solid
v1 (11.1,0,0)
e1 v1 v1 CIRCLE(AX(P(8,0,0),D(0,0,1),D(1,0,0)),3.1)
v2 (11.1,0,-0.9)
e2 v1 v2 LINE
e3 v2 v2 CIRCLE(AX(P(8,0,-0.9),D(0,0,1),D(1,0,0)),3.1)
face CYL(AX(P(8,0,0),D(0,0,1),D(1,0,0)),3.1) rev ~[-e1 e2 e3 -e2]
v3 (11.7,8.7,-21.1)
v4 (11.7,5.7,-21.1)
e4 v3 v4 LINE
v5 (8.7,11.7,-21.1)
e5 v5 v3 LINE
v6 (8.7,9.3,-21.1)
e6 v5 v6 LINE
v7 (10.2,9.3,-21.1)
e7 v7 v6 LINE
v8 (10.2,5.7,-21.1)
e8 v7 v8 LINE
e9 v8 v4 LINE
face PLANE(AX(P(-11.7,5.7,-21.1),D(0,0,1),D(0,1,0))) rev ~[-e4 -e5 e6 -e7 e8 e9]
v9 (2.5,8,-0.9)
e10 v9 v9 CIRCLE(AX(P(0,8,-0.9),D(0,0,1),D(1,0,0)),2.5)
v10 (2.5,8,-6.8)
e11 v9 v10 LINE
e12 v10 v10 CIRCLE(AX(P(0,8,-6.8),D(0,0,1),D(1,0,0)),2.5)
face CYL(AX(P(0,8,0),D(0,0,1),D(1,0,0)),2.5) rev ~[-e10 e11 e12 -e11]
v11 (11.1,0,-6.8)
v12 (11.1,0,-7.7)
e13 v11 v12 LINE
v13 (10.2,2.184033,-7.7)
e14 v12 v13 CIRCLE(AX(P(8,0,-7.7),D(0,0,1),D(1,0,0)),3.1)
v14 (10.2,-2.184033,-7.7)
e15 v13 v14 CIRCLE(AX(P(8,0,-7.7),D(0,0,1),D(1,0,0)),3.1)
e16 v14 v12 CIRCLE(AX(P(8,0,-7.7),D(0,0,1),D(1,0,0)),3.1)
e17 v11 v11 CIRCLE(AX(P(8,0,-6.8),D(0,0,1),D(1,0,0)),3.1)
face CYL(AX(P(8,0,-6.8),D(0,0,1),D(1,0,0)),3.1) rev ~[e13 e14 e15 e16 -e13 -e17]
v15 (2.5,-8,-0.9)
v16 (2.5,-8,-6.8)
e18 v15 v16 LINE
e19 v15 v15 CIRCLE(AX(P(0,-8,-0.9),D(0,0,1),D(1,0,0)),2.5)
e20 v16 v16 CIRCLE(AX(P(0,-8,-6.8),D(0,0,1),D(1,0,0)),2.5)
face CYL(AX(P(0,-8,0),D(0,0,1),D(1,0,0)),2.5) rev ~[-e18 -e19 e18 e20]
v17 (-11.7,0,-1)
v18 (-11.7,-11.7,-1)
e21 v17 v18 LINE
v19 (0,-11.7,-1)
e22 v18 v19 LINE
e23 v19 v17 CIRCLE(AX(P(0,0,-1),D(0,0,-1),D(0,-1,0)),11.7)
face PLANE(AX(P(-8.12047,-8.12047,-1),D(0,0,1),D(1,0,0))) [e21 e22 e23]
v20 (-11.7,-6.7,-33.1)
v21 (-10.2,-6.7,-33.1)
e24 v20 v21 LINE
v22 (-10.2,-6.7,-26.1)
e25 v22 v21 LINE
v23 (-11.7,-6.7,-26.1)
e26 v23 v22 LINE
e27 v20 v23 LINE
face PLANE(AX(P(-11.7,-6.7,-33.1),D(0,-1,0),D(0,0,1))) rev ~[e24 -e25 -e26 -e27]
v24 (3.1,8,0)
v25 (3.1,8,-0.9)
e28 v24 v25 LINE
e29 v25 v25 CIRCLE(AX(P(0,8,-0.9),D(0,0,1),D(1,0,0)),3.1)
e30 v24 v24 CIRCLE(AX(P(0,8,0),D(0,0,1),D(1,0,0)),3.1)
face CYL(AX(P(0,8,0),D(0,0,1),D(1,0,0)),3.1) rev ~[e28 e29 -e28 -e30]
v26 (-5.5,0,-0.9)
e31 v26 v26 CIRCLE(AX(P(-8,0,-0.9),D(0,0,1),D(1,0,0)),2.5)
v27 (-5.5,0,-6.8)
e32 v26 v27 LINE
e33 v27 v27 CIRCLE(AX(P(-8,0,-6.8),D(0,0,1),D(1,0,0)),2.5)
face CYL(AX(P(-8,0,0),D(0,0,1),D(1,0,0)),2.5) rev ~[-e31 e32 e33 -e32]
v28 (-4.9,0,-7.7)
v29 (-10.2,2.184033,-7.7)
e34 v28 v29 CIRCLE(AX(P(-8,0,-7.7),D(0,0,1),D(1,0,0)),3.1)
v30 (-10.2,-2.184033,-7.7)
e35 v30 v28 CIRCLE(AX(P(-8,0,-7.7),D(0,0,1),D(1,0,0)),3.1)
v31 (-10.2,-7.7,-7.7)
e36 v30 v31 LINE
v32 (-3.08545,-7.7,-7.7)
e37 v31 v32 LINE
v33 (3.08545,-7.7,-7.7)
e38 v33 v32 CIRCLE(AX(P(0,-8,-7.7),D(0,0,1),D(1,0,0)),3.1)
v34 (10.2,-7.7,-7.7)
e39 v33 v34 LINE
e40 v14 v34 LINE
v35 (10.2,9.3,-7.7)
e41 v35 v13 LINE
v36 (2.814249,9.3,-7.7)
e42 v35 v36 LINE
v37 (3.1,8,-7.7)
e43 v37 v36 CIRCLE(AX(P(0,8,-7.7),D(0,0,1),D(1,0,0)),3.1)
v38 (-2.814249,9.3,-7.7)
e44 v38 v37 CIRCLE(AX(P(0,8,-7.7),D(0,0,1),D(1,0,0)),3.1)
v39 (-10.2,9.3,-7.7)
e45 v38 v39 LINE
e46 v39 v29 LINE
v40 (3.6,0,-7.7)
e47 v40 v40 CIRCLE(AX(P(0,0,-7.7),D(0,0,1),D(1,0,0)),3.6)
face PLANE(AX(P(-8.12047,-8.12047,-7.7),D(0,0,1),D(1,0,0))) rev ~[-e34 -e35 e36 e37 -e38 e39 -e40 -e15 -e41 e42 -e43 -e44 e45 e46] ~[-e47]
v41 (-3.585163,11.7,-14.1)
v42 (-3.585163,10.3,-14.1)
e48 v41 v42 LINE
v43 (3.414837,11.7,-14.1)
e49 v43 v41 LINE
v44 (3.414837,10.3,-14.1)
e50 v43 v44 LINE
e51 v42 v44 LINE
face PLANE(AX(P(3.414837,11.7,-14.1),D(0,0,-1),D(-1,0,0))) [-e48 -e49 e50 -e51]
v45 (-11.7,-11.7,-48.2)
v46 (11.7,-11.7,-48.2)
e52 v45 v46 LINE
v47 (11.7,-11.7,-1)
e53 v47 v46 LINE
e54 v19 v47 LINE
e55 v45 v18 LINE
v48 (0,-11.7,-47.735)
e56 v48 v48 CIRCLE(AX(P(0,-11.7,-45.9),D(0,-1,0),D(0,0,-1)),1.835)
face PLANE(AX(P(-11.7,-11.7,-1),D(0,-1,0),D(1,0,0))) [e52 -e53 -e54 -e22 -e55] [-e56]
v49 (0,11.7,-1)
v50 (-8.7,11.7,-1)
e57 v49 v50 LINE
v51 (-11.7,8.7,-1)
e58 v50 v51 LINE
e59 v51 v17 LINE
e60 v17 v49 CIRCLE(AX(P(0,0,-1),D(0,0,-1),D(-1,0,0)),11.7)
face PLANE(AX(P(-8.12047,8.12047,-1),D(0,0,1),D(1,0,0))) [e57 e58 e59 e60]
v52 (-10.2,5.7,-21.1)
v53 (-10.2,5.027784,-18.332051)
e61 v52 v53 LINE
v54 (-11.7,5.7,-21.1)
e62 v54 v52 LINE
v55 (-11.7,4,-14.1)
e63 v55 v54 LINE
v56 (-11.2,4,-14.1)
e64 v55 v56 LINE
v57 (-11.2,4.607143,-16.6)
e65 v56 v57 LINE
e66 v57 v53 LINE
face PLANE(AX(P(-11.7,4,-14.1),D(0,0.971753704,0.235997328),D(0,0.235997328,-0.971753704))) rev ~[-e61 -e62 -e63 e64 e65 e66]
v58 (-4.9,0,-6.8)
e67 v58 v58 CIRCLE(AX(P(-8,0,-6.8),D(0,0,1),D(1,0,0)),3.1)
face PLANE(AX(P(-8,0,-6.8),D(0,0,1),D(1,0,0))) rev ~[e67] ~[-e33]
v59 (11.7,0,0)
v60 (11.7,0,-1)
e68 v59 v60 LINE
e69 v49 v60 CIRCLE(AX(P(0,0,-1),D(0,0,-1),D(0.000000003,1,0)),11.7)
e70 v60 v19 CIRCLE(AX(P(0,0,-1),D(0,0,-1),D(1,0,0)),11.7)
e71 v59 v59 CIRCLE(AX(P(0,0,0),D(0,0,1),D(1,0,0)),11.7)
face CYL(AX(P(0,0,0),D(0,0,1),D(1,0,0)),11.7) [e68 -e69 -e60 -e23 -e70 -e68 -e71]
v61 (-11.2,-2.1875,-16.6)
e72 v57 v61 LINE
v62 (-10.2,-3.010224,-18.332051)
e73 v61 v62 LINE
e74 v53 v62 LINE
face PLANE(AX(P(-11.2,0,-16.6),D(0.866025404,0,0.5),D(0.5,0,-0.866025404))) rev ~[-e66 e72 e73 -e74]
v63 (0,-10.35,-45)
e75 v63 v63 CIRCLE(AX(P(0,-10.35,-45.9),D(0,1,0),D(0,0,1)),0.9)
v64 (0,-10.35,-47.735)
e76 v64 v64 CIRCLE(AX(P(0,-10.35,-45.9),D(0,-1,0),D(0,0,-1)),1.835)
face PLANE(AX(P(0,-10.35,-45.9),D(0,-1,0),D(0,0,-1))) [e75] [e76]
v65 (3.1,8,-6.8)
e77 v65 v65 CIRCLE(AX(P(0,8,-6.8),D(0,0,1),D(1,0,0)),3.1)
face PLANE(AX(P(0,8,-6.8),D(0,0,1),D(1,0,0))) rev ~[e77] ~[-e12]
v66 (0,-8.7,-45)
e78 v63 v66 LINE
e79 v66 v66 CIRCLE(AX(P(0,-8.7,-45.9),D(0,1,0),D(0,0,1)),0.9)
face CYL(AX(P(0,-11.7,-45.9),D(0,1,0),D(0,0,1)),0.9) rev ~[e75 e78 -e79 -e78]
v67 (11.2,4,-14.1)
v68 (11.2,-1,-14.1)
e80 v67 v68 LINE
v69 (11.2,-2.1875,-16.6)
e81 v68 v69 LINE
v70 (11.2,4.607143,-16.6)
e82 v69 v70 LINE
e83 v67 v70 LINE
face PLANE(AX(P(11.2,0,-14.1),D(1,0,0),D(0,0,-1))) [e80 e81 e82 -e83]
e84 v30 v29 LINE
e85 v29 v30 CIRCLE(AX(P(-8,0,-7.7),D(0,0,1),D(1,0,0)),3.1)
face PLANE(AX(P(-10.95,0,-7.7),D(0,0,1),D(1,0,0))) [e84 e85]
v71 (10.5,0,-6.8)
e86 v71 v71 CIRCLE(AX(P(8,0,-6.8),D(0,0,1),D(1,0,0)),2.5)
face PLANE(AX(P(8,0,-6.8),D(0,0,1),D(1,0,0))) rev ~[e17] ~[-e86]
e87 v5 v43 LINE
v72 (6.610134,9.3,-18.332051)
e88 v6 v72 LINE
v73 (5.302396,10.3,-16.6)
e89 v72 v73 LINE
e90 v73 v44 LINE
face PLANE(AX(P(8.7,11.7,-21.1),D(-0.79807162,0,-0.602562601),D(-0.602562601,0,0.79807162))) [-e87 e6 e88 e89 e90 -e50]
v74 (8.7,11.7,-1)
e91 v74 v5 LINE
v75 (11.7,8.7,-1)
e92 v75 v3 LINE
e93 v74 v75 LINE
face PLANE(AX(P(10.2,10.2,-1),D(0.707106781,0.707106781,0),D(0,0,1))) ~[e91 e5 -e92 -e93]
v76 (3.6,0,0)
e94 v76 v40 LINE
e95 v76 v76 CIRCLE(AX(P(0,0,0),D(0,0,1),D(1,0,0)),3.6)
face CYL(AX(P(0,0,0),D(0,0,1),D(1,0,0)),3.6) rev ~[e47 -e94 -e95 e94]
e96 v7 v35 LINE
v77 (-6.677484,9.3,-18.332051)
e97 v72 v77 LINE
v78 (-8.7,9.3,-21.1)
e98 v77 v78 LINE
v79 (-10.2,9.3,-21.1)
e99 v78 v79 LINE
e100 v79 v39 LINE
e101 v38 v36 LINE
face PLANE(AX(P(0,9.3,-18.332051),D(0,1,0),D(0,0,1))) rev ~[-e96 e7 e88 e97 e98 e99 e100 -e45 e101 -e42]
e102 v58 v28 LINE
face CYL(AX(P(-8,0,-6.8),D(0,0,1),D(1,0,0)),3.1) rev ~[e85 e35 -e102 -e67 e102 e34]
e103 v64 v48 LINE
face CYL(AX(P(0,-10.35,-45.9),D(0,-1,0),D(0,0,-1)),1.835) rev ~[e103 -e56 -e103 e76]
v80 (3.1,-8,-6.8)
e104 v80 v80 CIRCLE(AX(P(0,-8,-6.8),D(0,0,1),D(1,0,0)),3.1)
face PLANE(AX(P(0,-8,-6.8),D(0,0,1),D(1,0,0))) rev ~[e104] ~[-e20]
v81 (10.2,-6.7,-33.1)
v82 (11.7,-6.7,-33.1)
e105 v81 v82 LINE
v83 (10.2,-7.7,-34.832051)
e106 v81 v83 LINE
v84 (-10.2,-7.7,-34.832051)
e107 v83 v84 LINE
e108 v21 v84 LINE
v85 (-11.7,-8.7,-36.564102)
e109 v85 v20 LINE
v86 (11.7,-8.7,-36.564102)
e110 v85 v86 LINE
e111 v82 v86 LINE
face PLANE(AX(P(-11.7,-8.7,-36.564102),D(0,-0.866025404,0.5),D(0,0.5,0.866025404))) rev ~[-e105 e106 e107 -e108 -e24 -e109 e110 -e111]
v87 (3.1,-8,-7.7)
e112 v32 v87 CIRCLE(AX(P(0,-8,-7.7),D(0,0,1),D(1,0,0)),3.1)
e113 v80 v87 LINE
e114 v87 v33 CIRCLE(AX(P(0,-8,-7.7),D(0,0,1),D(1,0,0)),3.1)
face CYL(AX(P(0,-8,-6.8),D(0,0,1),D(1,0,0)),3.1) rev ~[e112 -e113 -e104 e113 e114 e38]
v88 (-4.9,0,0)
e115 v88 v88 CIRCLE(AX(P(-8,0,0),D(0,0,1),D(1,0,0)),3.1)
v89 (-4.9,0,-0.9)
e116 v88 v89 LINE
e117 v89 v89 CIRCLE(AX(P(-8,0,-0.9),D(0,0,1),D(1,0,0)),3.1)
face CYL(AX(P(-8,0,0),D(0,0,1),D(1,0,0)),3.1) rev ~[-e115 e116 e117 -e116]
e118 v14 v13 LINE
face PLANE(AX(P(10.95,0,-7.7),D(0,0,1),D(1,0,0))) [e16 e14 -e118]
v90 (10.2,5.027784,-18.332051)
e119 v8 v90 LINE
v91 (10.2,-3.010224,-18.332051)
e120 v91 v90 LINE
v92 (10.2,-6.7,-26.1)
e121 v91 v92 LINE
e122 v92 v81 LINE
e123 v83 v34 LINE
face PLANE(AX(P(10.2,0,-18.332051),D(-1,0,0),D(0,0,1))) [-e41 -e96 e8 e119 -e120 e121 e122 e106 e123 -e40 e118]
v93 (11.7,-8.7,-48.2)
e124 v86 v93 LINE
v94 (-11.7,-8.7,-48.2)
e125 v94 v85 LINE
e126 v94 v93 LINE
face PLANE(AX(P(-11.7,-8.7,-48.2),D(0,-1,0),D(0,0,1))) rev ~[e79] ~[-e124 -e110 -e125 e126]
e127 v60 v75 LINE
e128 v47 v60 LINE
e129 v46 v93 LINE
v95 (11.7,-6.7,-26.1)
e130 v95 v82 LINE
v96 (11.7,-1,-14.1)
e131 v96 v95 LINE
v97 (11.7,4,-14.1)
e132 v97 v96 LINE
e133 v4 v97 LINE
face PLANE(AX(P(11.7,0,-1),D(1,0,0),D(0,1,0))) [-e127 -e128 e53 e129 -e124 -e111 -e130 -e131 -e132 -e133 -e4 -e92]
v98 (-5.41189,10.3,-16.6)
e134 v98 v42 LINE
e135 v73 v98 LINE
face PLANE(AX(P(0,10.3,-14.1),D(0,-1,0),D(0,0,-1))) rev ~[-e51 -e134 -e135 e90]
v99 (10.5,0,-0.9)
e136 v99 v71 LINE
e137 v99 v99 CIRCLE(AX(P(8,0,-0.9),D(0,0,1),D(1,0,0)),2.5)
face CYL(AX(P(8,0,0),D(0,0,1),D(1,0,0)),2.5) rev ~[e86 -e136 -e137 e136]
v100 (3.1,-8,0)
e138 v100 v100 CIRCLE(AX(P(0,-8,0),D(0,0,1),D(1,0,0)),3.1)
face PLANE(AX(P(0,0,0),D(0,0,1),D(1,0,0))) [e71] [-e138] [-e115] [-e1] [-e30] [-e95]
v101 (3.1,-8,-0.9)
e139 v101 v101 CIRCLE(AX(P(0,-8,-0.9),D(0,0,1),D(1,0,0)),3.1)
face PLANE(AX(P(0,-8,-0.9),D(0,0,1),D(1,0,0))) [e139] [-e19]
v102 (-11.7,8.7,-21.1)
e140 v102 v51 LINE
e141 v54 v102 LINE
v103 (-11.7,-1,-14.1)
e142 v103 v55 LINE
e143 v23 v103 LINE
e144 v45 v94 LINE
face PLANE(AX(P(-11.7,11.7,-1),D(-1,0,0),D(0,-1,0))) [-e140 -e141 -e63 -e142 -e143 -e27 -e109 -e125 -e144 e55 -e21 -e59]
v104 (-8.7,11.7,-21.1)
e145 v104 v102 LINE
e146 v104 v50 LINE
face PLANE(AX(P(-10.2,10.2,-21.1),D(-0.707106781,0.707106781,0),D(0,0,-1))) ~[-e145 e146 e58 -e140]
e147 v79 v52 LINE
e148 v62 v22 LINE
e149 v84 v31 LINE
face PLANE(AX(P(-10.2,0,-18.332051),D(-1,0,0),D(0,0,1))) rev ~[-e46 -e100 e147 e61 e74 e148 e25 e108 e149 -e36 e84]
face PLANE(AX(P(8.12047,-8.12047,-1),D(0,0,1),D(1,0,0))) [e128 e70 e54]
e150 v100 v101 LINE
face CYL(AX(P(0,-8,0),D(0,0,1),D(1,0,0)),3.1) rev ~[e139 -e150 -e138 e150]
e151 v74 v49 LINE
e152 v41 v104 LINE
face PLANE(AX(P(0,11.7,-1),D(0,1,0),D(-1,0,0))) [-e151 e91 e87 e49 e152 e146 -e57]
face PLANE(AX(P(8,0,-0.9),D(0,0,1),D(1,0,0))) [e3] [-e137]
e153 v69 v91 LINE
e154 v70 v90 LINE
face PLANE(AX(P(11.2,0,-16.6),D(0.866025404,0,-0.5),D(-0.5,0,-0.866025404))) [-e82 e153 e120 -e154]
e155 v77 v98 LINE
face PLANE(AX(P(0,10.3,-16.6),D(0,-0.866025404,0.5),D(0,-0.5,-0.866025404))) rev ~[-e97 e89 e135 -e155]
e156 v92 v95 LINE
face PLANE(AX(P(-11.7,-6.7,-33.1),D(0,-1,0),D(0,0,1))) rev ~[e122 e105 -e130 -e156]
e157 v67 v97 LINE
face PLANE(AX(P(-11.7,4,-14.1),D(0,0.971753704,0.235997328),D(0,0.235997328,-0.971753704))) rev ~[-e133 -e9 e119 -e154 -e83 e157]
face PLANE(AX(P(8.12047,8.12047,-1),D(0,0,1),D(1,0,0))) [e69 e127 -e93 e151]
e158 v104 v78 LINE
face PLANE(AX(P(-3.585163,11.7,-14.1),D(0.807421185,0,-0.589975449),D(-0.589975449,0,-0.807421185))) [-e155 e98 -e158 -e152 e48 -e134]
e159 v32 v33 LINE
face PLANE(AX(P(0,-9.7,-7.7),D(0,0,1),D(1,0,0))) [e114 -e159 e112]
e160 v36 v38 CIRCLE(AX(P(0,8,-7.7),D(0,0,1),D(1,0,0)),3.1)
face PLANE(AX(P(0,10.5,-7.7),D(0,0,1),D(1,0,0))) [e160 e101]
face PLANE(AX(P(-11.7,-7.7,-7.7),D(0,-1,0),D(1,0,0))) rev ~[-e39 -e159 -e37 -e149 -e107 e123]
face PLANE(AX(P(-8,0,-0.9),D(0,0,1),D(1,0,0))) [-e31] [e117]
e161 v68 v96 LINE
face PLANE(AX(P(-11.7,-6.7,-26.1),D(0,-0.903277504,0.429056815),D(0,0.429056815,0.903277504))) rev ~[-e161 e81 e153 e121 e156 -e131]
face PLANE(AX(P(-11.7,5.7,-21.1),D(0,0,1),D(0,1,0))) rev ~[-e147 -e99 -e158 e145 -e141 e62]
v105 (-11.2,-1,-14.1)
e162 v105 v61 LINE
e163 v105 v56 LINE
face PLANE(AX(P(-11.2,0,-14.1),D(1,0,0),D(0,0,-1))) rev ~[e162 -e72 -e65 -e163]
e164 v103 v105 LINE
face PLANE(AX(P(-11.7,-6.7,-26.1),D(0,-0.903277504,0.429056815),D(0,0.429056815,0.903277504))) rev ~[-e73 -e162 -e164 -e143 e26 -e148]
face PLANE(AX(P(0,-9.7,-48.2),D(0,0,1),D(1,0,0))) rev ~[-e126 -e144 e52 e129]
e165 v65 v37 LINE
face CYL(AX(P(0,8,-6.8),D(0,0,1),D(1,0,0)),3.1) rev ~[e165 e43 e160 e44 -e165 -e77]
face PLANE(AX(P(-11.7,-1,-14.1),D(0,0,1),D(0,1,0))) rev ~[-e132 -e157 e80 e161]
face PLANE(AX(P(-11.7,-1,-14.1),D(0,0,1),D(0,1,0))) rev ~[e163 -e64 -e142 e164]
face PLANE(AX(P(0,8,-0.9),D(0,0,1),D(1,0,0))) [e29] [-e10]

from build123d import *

# Parameters (mm, degrees)
SKETCH_1_R                  = 11.7
EXTRUDE_1_DEPTH             = 7.7
SKETCH_1_3_R                = 2.5
CUT_EXTRUDE_1_DEPTH         = 19.250205478
SKETCH_1_5_R                = 3.1
SKETCH_1_5_R_2              = 2.5
CUT_EXTRUDE_2_DEPTH         = 0.9
CUT_EXTRUDE_START           = -6.8
SKETCH_1_6_R                = 3.1
SKETCH_1_6_R_2              = 2.5
CUT_EXTRUDE_3_DEPTH         = 0.9
EXTRUDE_START               = -7.7
SKETCH_2_W                  = 23.4
SKETCH_2_H                  = 2.4
SKETCH_2_H_2                = 4
EXTRUDE_3_DEPTH             = 40.5
SKETCH_3_W                  = 1.5
SKETCH_3_H                  = 23.4
EXTRUDE_4_DEPTH             = 40.3
EXTRUDE_START_2             = -1
EXTRUDE_5_DEPTH             = 6.7
CUT_EXTRUDE_5_DEPTH         = 55.842410596
CHAMFER_1_SIZE              = 3
CUT_EXTRUDE_6_REACH         = 56.842
EXTRUDE_6_REACH             = 52.961
EXTRUDE_6_DIRECTION_2_REACH = 52.961
EXTRUDE_7_REACH             = 52.961
EXTRUDE_7_DIRECTION_2_REACH = 52.961
HOLE_WIZARD_1_D             = 1.8
HOLE_WIZARD_1_CBORE_D       = 3.67
HOLE_WIZARD_1_CBORE_DEPTH   = 1.35
CUT_EXTRUDE_7_REACH         = 52.961
SKETCH_19_R                 = 3.6


with BuildPart() as part:
    # 草图1 → 凸台-拉伸1 (new body)
    with BuildSketch(Plane.XY):
        Circle(SKETCH_1_R)
    extrude(amount=-EXTRUDE_1_DEPTH)

    # 草图1<3> → 切除-拉伸1 (cut, through all)
    with BuildSketch(Plane.XY):
        with Locations((-8, 0)):
            Circle(SKETCH_1_3_R)
        with Locations((0, 8)):
            Circle(SKETCH_1_3_R)
        with Locations((8, 0)):
            Circle(SKETCH_1_3_R)
        with Locations((0, -8)):
            Circle(SKETCH_1_3_R)
    extrude(amount=-CUT_EXTRUDE_1_DEPTH, mode=Mode.SUBTRACT)

    # 草图1<5> → 切除-拉伸2 (cut)
    # profile 1 of 4: a face of its own
    with BuildSketch(Plane.XY):
        with Locations((-8, 0)):
            Circle(SKETCH_1_5_R)
        with Locations((-8, 0)):
            Circle(SKETCH_1_5_R_2, mode=Mode.SUBTRACT)
    # profile 2 of 4: a face of its own
    with BuildSketch(Plane.XY):
        with Locations((0, 8)):
            Circle(SKETCH_1_5_R)
        with Locations((0, 8)):
            Circle(SKETCH_1_5_R_2, mode=Mode.SUBTRACT)
    # profile 3 of 4: a face of its own
    with BuildSketch(Plane.XY):
        with Locations((8, 0)):
            Circle(SKETCH_1_5_R)
        with Locations((8, 0)):
            Circle(SKETCH_1_5_R_2, mode=Mode.SUBTRACT)
    # profile 4 of 4: a face of its own
    with BuildSketch(Plane.XY):
        with Locations((0, -8)):
            Circle(SKETCH_1_5_R)
        with Locations((0, -8)):
            Circle(SKETCH_1_5_R_2, mode=Mode.SUBTRACT)
    extrude(amount=-CUT_EXTRUDE_2_DEPTH, mode=Mode.SUBTRACT)

    # 草图1<6> → 切除-拉伸3 (cut)
    # profile 1 of 4: a face of its own
    with BuildSketch(Plane.XY.offset(CUT_EXTRUDE_START)):
        with Locations((-8, 0)):
            Circle(SKETCH_1_6_R)
        with Locations((-8, 0)):
            Circle(SKETCH_1_6_R_2, mode=Mode.SUBTRACT)
    # profile 2 of 4: a face of its own
    with BuildSketch(Plane.XY.offset(CUT_EXTRUDE_START)):
        with Locations((8, 0)):
            Circle(SKETCH_1_6_R)
        with Locations((8, 0)):
            Circle(SKETCH_1_6_R_2, mode=Mode.SUBTRACT)
    # profile 3 of 4: a face of its own
    with BuildSketch(Plane.XY.offset(CUT_EXTRUDE_START)):
        with Locations((0, -8)):
            Circle(SKETCH_1_6_R)
        with Locations((0, -8)):
            Circle(SKETCH_1_6_R_2, mode=Mode.SUBTRACT)
    # profile 4 of 4: a face of its own
    with BuildSketch(Plane.XY.offset(CUT_EXTRUDE_START)):
        with Locations((0, 8)):
            Circle(SKETCH_1_6_R)
        with Locations((0, 8)):
            Circle(SKETCH_1_6_R_2, mode=Mode.SUBTRACT)
    extrude(amount=-CUT_EXTRUDE_3_DEPTH, mode=Mode.SUBTRACT)

    # 草图2 → 凸台-拉伸3 (add)
    with BuildSketch(Plane.XY.offset(EXTRUDE_START)):
        with Locations((0, 10.5)):
            Rectangle(SKETCH_2_W, SKETCH_2_H)
        with Locations((0, -9.7)):
            Rectangle(SKETCH_2_W, SKETCH_2_H_2)
    extrude(amount=-EXTRUDE_3_DEPTH)

    # 草图3 → 凸台-拉伸4 (add)
    with BuildSketch(Plane.XY.offset(EXTRUDE_START)):
        with Locations((-10.95, 0)):
            Rectangle(SKETCH_3_W, SKETCH_3_H)
        with Locations((10.95, 0)):
            Rectangle(SKETCH_3_W, SKETCH_3_H)
    extrude(amount=-EXTRUDE_4_DEPTH)

    # 草图4 → 凸台-拉伸5 (add)
    with BuildSketch(Plane.XY.offset(EXTRUDE_START_2)):
        with BuildLine():
            Line((3.2e-08, 11.7), (-11.7, 11.7))
            Line((-11.7, 11.7), (-11.7, 0))
            ThreePointArc((-11.7, 0), (-8.273149328, 8.273149351), (3.2e-08, 11.7))
        make_face()
        with BuildLine():
            Line((11.7, 11.7), (3.2e-08, 11.7))
            ThreePointArc((3.2e-08, 11.7), (8.273149351, 8.273149328), (11.7, 0))
            Line((11.7, 0), (11.7, 11.7))
        make_face()
        with BuildLine():
            ThreePointArc((3e-09, -11.7), (-8.273149339, -8.273149341), (-11.7, 0))
            Line((-11.7, 0), (-11.7, -11.7))
            Line((-11.7, -11.7), (3e-09, -11.7))
        make_face()
        with BuildLine():
            Line((11.7, -11.7), (11.7, 0))
            ThreePointArc((11.7, 0), (8.273149341, -8.273149339), (3e-09, -11.7))
            Line((3e-09, -11.7), (11.7, -11.7))
        make_face()
    extrude(amount=-EXTRUDE_5_DEPTH)

    # 草图7 → 切除-拉伸5 (cut, through all)
    with BuildSketch(Plane.ZY.offset(11.7)):
        Polygon((-48.2, 11.7), (-48.2, -8.7), (-36.564101615, -8.7), (-33.1, -6.7), (-26.1, -6.7), (-14.1, -1), (-14.1, 4), (-21.1, 5.7), (-21.1, 11.7), align=None)
    extrude(amount=-CUT_EXTRUDE_5_DEPTH, mode=Mode.SUBTRACT)

    # 倒角1
    chamfer_1_edges = [part.edges().sort_by_distance(p)[0] for p in [
        (-11.7, 11.7, -11.05),
        (11.7, 11.7, -11.05),
    ]]
    chamfer(chamfer_1_edges, length=CHAMFER_1_SIZE)

    # 草图8 → 切除-拉伸6 (cut, up to next)
    with BuildSketch(Plane(origin=(0, 11.7, 0), x_dir=(1, 0, 0), z_dir=(0, 1, 0)), mode=Mode.PRIVATE) as cut_extrude_6_sk1:
        Polygon((8.7, 21.1), (3.414837489, 14.1), (-3.585162511, 14.1), (-8.7, 21.1), align=None)
    cut_extrude_6_tool1 = extrude(cut_extrude_6_sk1.sketch, amount=-CUT_EXTRUDE_6_REACH, mode=Mode.PRIVATE) & part.part
    add(cut_extrude_6_tool1.solids().sort_by_distance((-0.036531, 11.7, -18.097268))[0], mode=Mode.SUBTRACT)

    # 草图12 → 凸台-拉伸6 (add, up to next)
    with BuildSketch(Plane(origin=(0, 0, 0), x_dir=(0, 0, -1), z_dir=(1, 0, 0)), mode=Mode.PRIVATE) as extrude_6_sk1:
        Polygon((14.1, 10.3), (16.6, 10.3), (18.332050808, 9.3), (14.1, 9.3), align=None)
    extrude_6_tool1 = extrude(extrude_6_sk1.sketch, amount=EXTRUDE_6_REACH, mode=Mode.PRIVATE) - part.part
    add(extrude_6_tool1.solids().sort_by_distance((0, 9.757119, -15.820148))[0])

    # 草图12 → 凸台-拉伸6 direction 2 (add, up to next)
    with BuildSketch(Plane(origin=(0, 0, 0), x_dir=(0, 0, -1), z_dir=(1, 0, 0)), mode=Mode.PRIVATE) as extrude_6_direction_2_sk1:
        Polygon((14.1, 10.3), (16.6, 10.3), (18.332050808, 9.3), (14.1, 9.3), align=None)
    extrude_6_direction_2_tool1 = extrude(extrude_6_direction_2_sk1.sketch, amount=-EXTRUDE_6_DIRECTION_2_REACH, mode=Mode.PRIVATE) - part.part
    add(extrude_6_direction_2_tool1.solids().sort_by_distance((0, 9.757119, -15.820148))[0])

    # 草图13 → 凸台-拉伸7 (add, up to next)
    with BuildSketch(Plane(origin=(0, 0, 0), x_dir=(1, 0, 0), z_dir=(0, 1, 0)), mode=Mode.PRIVATE) as extrude_7_sk1:
        Polygon((10.2, 14.1), (11.2, 14.1), (11.2, 16.6), (10.2, 18.332050808), align=None)
    extrude_7_tool1 = extrude(extrude_7_sk1.sketch, amount=EXTRUDE_7_REACH, mode=Mode.PRIVATE) - part.part
    # 草图13 → 凸台-拉伸7 (add, up to next)
    with BuildSketch(Plane(origin=(0, 0, 0), x_dir=(1, 0, 0), z_dir=(0, 1, 0)), mode=Mode.PRIVATE) as extrude_7_sk2:
        Polygon((-10.2, 14.1), (-11.2, 14.1), (-11.2, 16.6), (-10.2, 18.332050808), align=None)
    extrude_7_tool2 = extrude(extrude_7_sk2.sketch, amount=EXTRUDE_7_REACH, mode=Mode.PRIVATE) - part.part
    add(extrude_7_tool1.solids().sort_by_distance((10.657119, 0, -15.820148))[0])
    add(extrude_7_tool2.solids().sort_by_distance((-10.657119, 0, -15.820148))[0])

    # 草图13 → 凸台-拉伸7 direction 2 (add, up to next)
    with BuildSketch(Plane(origin=(0, 0, 0), x_dir=(1, 0, 0), z_dir=(0, 1, 0)), mode=Mode.PRIVATE) as extrude_7_direction_2_sk1:
        Polygon((10.2, 14.1), (11.2, 14.1), (11.2, 16.6), (10.2, 18.332050808), align=None)
    extrude_7_direction_2_tool1 = extrude(extrude_7_direction_2_sk1.sketch, amount=-EXTRUDE_7_DIRECTION_2_REACH, mode=Mode.PRIVATE) - part.part
    # 草图13 → 凸台-拉伸7 direction 2 (add, up to next)
    with BuildSketch(Plane(origin=(0, 0, 0), x_dir=(1, 0, 0), z_dir=(0, 1, 0)), mode=Mode.PRIVATE) as extrude_7_direction_2_sk2:
        Polygon((-10.2, 14.1), (-11.2, 14.1), (-11.2, 16.6), (-10.2, 18.332050808), align=None)
    extrude_7_direction_2_tool2 = extrude(extrude_7_direction_2_sk2.sketch, amount=-EXTRUDE_7_DIRECTION_2_REACH, mode=Mode.PRIVATE) - part.part
    add(extrude_7_direction_2_tool1.solids().sort_by_distance((10.657119, 0, -15.820148))[0])
    add(extrude_7_direction_2_tool2.solids().sort_by_distance((-10.657119, 0, -15.820148))[0])

    # 孔1 (through all)
    with Locations(Plane(origin=(0, -11.7, -45.9), x_dir=(0, 0, -1), z_dir=(0, -1, 0))):
        with Locations((0, 0)):
            CounterBoreHole(HOLE_WIZARD_1_D / 2, HOLE_WIZARD_1_CBORE_D / 2, HOLE_WIZARD_1_CBORE_DEPTH)

    # 草图19 → 切除-拉伸7 (cut, up to next)
    with BuildSketch(Plane.XY, mode=Mode.PRIVATE) as cut_extrude_7_sk1:
        Circle(SKETCH_19_R)
    cut_extrude_7_tool1 = extrude(cut_extrude_7_sk1.sketch, amount=-CUT_EXTRUDE_7_REACH, mode=Mode.PRIVATE) & part.part
    add(cut_extrude_7_tool1.solids().sort_by_distance((0, 0, 0))[0], mode=Mode.SUBTRACT)


solid = part.part
